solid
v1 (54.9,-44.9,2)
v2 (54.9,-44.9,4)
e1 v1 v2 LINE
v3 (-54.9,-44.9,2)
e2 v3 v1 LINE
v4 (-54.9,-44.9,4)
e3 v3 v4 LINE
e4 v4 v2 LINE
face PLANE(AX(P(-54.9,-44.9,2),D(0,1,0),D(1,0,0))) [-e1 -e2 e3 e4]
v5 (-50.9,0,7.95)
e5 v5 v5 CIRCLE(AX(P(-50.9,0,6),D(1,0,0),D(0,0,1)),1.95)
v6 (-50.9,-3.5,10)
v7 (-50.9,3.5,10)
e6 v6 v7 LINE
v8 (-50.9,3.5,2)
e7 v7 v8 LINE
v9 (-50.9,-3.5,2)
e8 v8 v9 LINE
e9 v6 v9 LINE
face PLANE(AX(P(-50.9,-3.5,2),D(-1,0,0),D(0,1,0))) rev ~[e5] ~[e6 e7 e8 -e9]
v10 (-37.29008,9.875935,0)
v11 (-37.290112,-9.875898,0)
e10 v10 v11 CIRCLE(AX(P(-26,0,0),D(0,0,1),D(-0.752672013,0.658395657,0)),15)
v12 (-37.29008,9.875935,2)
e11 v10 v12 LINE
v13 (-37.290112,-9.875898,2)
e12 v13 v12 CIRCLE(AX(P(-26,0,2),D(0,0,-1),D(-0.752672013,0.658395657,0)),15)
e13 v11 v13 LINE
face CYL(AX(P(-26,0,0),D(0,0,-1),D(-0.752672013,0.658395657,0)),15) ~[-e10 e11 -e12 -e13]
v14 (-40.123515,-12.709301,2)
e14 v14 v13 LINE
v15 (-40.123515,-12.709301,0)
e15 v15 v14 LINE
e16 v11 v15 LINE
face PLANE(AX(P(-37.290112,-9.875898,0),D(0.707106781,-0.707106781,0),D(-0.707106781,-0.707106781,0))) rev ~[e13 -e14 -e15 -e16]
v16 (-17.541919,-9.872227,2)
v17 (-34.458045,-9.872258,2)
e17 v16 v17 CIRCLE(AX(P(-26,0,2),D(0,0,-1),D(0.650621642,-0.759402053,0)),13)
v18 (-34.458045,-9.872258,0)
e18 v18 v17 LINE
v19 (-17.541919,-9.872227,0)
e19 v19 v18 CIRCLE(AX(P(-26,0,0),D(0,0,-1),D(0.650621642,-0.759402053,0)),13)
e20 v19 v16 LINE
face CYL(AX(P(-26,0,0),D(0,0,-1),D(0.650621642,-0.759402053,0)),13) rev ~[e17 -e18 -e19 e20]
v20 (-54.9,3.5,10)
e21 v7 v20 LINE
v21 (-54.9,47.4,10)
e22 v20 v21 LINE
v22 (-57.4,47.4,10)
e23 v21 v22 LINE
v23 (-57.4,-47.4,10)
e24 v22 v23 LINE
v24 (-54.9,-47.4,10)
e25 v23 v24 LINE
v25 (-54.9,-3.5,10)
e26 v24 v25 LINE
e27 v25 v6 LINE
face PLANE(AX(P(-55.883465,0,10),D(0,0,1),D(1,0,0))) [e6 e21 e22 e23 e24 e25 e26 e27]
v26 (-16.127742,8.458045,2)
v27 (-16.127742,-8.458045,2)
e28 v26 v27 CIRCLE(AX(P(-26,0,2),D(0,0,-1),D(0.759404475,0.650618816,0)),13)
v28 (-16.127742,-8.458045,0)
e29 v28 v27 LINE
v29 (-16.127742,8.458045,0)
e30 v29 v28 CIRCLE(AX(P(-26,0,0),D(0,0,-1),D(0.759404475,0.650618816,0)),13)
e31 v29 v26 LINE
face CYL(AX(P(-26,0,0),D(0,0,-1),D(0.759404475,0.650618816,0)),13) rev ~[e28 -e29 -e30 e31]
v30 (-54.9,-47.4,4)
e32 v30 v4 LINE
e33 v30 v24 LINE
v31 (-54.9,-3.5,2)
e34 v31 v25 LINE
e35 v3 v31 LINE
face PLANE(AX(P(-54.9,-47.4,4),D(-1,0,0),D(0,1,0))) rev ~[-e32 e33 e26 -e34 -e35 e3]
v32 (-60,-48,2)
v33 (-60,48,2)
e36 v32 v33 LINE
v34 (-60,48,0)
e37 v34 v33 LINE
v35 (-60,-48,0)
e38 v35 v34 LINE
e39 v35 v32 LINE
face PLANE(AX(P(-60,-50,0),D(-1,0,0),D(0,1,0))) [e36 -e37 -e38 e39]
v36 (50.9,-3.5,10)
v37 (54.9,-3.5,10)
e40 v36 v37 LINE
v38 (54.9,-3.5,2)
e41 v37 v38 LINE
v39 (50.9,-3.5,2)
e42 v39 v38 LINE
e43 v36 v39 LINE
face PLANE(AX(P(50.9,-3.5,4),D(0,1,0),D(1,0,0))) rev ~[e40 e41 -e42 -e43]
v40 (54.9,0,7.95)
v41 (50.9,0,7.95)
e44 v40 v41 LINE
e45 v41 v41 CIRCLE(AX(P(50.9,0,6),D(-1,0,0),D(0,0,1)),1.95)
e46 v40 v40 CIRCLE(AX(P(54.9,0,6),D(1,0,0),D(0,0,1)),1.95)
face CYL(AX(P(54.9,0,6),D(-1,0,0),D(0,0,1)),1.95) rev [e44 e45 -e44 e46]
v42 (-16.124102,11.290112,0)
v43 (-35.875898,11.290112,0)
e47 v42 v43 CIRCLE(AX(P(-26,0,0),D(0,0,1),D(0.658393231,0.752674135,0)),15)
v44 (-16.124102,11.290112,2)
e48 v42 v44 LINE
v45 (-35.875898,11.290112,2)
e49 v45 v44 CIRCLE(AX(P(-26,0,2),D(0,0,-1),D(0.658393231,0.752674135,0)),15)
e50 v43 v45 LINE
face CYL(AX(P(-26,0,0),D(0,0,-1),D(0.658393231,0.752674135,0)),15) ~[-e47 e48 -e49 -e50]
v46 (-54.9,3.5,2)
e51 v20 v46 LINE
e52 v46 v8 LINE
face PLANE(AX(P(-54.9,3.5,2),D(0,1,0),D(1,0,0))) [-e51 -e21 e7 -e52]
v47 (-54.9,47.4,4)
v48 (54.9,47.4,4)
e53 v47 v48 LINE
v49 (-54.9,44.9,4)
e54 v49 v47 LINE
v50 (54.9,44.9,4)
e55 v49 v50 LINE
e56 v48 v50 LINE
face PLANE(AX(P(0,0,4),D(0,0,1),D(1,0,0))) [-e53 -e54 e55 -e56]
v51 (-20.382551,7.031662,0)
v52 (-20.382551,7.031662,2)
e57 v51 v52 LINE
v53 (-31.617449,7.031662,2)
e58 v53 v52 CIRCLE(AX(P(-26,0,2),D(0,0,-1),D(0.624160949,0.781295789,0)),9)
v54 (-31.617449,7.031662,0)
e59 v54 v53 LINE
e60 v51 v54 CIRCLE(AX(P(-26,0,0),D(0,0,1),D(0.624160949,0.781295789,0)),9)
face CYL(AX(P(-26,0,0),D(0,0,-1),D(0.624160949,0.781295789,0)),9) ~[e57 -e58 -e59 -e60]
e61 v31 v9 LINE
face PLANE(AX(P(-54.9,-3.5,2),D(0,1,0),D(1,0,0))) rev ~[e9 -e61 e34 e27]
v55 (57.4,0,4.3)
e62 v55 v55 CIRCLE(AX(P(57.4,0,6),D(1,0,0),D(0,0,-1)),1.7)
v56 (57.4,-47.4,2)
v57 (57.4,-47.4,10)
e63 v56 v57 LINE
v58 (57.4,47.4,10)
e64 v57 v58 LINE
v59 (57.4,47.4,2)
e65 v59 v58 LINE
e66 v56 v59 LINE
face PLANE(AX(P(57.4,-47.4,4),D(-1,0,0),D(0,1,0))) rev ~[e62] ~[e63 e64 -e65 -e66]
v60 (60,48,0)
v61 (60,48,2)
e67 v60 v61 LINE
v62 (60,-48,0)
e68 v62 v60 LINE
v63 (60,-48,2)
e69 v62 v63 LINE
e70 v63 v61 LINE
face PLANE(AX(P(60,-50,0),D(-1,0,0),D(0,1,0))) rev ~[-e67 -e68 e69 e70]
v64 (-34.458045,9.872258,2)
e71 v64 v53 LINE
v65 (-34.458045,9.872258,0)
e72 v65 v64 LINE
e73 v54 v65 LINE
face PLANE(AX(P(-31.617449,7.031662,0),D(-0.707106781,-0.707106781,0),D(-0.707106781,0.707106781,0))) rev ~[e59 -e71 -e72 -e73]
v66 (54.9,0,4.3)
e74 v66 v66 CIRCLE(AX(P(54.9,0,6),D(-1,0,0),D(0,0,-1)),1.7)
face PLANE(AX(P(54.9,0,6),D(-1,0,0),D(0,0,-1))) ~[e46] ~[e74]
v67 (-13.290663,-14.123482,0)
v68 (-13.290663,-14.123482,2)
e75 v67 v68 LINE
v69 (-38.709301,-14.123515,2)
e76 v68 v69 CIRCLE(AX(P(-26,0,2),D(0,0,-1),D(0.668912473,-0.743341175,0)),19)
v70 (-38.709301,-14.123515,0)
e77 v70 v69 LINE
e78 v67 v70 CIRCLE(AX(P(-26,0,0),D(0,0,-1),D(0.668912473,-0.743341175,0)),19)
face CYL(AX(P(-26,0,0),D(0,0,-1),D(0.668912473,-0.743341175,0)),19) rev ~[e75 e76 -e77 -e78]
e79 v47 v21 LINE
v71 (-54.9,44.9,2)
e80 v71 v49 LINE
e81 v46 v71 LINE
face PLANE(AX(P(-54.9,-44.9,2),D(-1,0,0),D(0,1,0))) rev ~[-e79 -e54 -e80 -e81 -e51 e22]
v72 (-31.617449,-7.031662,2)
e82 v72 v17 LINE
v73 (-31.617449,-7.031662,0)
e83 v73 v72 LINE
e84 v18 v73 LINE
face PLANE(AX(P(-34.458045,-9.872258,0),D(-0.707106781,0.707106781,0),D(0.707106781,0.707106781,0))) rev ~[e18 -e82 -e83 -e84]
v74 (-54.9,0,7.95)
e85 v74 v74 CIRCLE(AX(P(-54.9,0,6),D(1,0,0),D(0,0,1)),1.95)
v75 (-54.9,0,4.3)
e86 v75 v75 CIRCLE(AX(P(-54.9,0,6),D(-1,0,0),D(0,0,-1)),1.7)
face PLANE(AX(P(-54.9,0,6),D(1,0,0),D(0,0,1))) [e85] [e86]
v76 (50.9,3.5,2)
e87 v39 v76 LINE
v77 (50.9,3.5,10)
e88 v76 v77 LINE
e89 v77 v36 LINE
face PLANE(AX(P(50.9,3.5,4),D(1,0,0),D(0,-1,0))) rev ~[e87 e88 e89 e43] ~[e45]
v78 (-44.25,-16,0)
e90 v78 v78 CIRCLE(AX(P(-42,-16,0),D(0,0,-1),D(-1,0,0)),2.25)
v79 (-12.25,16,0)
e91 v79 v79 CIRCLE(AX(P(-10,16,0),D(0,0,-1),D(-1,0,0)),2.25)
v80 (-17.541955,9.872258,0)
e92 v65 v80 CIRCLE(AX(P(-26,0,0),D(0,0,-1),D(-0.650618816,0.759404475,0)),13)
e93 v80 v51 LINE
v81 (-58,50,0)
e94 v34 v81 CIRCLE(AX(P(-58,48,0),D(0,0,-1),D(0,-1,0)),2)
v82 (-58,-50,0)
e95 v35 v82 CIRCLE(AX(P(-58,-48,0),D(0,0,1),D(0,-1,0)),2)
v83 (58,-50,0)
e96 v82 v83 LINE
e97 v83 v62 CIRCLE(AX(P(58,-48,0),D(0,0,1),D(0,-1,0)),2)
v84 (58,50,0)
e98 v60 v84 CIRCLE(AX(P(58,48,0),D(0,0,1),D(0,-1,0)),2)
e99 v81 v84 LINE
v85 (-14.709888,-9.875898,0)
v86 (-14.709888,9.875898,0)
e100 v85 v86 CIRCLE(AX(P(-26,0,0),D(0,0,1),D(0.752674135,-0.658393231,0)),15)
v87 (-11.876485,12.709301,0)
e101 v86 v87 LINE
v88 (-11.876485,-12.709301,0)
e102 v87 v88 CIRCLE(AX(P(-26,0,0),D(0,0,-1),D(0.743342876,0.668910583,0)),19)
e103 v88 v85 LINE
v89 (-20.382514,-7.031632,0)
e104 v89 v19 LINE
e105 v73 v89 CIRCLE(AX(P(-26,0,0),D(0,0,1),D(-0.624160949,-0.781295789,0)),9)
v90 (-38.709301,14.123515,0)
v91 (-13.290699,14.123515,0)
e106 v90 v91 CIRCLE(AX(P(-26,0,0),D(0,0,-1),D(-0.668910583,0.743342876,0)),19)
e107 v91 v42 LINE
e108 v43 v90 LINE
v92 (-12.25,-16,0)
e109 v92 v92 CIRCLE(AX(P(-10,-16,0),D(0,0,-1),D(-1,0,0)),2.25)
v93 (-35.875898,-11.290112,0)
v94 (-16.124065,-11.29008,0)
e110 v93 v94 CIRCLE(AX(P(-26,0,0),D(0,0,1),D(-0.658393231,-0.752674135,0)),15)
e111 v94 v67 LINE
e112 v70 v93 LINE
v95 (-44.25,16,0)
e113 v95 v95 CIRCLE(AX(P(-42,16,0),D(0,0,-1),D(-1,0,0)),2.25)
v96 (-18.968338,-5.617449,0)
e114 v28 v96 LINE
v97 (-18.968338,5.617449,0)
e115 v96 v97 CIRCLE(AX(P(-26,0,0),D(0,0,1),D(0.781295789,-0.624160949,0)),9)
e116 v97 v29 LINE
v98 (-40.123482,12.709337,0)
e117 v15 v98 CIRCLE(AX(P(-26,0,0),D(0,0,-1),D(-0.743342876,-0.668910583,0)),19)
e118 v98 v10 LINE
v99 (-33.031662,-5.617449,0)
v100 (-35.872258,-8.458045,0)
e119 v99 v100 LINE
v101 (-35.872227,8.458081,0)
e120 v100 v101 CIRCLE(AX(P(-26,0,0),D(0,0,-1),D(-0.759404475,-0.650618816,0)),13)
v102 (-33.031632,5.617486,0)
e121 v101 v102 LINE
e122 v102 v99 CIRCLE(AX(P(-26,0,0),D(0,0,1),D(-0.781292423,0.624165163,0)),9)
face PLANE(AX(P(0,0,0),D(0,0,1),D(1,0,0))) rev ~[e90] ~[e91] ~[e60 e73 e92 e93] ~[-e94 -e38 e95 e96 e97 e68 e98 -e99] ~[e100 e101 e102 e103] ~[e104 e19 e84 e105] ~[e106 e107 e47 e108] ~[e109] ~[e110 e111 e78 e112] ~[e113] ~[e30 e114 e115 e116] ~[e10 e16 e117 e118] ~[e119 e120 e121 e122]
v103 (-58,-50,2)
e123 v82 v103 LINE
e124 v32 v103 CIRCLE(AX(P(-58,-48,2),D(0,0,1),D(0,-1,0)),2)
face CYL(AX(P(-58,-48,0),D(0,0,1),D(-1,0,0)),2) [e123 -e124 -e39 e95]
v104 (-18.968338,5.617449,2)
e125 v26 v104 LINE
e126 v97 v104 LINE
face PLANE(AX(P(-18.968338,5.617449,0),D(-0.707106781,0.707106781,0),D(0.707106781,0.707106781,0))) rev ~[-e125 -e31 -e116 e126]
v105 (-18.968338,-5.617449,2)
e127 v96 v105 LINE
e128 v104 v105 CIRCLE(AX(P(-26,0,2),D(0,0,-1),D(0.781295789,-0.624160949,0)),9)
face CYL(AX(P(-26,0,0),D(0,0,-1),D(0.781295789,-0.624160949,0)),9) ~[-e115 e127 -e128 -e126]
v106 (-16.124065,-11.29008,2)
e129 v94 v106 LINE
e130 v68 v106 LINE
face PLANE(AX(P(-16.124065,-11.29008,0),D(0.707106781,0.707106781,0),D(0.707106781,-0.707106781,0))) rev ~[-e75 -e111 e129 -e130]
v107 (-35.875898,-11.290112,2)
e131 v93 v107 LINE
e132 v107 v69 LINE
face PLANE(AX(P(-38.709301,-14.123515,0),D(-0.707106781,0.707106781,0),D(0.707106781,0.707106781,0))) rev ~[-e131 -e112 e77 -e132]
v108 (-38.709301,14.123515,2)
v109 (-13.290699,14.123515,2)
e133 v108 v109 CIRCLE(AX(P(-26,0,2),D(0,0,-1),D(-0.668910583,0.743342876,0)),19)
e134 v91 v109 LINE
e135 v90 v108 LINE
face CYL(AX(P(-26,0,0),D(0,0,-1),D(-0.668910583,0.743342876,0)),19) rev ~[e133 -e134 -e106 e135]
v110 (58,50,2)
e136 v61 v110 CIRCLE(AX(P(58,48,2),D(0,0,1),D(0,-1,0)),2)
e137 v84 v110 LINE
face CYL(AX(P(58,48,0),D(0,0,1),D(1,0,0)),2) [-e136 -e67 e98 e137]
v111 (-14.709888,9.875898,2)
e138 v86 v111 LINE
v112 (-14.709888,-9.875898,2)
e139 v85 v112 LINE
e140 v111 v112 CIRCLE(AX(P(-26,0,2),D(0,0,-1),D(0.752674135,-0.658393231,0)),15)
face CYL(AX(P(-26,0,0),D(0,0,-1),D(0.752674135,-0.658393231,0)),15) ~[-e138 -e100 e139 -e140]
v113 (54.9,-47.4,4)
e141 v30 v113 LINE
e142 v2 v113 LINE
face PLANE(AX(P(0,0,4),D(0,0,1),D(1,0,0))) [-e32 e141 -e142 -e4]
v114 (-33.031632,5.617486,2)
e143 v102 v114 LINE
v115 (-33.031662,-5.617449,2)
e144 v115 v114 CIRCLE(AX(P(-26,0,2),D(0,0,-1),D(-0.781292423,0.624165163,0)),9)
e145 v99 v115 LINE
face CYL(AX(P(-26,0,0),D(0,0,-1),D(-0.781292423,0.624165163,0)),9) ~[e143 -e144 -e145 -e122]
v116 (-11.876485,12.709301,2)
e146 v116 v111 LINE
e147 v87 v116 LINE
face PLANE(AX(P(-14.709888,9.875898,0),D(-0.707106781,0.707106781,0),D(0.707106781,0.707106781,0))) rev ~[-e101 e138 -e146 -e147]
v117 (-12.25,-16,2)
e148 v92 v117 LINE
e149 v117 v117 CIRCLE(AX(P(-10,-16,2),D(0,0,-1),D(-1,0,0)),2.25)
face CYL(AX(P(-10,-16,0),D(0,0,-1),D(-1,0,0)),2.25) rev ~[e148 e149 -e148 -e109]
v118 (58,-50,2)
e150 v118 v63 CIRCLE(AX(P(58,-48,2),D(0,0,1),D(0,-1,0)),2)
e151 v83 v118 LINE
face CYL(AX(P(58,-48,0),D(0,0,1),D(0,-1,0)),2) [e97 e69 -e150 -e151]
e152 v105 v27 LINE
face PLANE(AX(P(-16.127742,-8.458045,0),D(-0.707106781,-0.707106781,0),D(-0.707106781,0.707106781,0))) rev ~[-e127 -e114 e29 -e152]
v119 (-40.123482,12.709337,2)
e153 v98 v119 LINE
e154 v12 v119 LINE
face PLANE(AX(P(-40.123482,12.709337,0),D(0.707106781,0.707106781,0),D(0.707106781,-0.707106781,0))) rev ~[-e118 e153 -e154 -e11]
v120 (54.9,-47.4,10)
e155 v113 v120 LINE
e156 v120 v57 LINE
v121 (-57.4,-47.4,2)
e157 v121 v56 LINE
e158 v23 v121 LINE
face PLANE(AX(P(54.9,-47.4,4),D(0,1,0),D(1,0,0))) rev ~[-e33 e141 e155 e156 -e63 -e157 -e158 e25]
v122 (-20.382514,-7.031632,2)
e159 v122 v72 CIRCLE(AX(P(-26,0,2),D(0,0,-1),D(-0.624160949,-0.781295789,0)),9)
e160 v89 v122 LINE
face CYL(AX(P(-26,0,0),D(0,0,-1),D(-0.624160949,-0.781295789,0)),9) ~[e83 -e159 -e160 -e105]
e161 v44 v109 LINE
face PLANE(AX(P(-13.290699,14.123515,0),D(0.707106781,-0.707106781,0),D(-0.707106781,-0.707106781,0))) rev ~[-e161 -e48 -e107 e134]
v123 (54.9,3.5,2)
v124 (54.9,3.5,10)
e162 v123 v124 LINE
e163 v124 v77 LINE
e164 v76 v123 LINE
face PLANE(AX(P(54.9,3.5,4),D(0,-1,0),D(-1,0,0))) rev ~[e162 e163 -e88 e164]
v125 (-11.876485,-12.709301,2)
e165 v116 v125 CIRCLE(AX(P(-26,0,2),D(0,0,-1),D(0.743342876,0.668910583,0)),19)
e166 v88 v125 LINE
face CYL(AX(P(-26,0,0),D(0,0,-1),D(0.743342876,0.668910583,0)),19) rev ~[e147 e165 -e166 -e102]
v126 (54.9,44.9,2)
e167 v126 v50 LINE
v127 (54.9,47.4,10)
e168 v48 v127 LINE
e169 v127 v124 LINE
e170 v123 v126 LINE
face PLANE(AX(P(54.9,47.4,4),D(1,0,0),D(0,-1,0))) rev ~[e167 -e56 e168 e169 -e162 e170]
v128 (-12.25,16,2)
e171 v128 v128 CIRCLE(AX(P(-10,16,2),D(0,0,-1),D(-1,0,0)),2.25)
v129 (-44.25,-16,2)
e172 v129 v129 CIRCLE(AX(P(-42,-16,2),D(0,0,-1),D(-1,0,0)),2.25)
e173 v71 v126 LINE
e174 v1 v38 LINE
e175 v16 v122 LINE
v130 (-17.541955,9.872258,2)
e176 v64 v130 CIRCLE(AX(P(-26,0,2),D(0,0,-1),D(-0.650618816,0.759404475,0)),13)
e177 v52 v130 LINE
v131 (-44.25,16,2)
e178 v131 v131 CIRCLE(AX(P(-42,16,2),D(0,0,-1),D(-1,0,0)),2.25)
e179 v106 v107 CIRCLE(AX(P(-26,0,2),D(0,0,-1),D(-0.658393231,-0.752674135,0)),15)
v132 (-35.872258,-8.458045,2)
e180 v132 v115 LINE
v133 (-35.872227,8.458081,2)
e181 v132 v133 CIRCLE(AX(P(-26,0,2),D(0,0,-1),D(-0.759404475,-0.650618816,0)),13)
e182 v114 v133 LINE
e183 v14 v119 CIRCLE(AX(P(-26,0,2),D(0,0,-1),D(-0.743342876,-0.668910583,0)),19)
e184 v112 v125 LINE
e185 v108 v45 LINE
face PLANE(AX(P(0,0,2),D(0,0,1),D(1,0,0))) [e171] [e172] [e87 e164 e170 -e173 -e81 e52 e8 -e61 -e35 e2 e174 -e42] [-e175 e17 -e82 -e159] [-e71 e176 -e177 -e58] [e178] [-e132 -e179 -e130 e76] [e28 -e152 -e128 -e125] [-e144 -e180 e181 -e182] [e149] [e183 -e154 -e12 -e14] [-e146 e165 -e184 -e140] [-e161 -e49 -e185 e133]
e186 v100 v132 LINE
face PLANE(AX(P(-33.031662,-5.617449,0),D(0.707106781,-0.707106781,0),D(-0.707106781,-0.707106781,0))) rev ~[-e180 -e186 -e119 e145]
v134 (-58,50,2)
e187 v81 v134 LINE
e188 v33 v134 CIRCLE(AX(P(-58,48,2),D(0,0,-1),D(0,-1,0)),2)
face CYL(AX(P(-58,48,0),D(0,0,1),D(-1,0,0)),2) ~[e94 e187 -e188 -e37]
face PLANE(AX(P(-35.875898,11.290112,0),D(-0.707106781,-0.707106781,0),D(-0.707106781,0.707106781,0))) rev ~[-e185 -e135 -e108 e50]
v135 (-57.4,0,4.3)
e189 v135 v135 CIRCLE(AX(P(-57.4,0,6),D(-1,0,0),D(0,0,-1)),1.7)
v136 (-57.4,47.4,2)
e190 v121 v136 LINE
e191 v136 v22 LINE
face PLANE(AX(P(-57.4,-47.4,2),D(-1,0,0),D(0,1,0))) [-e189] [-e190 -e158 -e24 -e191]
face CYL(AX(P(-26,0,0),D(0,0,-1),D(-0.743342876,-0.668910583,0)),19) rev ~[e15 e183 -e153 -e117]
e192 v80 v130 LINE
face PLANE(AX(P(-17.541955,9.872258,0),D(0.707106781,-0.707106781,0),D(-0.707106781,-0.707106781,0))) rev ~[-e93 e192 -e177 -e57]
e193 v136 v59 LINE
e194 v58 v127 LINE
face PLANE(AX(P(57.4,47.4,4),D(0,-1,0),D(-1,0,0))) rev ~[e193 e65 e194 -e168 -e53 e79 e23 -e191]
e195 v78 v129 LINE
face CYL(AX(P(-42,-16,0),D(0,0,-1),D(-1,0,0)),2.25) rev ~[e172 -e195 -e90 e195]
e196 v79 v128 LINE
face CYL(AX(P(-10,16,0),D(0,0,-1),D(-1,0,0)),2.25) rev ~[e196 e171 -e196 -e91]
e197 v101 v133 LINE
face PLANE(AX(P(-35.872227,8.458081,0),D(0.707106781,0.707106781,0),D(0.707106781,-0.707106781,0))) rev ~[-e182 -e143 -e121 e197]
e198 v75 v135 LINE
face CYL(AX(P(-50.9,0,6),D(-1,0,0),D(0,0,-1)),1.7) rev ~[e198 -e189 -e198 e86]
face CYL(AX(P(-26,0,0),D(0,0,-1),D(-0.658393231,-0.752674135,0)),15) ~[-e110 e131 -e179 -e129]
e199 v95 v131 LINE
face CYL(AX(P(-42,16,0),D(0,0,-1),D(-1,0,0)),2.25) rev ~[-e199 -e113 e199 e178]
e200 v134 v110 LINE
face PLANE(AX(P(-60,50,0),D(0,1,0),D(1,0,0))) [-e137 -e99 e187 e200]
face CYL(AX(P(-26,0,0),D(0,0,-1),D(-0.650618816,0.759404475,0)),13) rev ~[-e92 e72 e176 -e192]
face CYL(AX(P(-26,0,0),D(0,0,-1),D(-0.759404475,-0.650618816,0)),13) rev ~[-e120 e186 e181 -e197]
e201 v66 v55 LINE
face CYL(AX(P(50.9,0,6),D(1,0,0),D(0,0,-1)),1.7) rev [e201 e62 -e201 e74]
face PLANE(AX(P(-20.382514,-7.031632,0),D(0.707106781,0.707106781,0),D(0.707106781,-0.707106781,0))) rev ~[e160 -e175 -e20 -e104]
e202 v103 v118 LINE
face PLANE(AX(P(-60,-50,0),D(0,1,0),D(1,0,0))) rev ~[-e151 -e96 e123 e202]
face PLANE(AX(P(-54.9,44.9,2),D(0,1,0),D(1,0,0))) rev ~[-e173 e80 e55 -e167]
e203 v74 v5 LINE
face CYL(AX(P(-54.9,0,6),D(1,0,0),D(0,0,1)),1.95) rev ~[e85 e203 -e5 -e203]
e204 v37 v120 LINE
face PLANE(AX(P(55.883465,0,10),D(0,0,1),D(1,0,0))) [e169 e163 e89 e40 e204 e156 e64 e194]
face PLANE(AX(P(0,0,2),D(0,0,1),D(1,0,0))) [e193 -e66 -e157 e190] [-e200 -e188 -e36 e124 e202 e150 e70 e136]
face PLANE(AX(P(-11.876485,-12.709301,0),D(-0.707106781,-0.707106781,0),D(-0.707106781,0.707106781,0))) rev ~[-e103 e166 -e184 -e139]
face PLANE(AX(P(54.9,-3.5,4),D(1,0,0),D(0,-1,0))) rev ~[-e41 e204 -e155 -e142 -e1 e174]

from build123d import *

# Parameters (mm, degrees)
P_DORYS_W                                         = 120
P_DORYS_H                                         = 100
P_IDAT_VYSUNUT_M1_DEPTH                           = 2
ZAOBLIT1_R                                        = 2
SKICA2_W                                          = 114.8
SKICA2_H                                          = 94.8
SKICA2_W_2                                        = 109.8
SKICA2_H_2                                        = 89.8
SKICA2_W_3                                        = 4
SKICA2_H_3                                        = 7
SKICA2_H_4                                        = 3.5
P_IDAT_VYSUNUT_M2_DEPTH                           = 2
P_IDAT_VYSUNUT_M3_DEPTH                           = 6
V_LCOV_ZAHLOUBEN_PRO_M6_ROUBY_S_V_LCO_D           = 3.4
V_LCOV_ZAHLOUBEN_PRO_M6_ROUBY_S_V_LCO_DEPTH       = 9.1
V_LCOV_ZAHLOUBEN_PRO_M6_ROUBY_S_V_LCO_CBORE_D     = 3.9
V_LCOV_ZAHLOUBEN_PRO_M6_ROUBY_S_V_LCO_CBORE_DEPTH = 4
SKICA7_R                                          = 2.25
ODEBRAT_VYSUNUT_M1_DEPTH                          = 6


with BuildPart() as part:
    # půdorys → Přidat vysunutím1 (new body)
    with BuildSketch(Plane.XY):
        Rectangle(P_DORYS_W, P_DORYS_H)
    extrude(amount=P_IDAT_VYSUNUT_M1_DEPTH)

    # Zaoblit1
    zaoblit1_edges = [part.edges().sort_by_distance(p)[0] for p in [
        (60, -50, 1),
        (-60, -50, 1),
        (-60, 50, 1),
        (60, 50, 1),
    ]]
    fillet(zaoblit1_edges, radius=ZAOBLIT1_R)

    # Skica2 → Přidat vysunutím2 (add)
    # profile 1 of 4: a face of its own
    with BuildSketch(Plane.XY.offset(2)):
        Rectangle(SKICA2_W, SKICA2_H)
        Rectangle(SKICA2_W_2, SKICA2_H_2, mode=Mode.SUBTRACT)
    # profile 2 of 4: a face of its own
    with BuildSketch(Plane.XY.offset(2)):
        with Locations((52.9, 0)):
            Rectangle(SKICA2_W_3, SKICA2_H_3)
    # profile 3 of 4: a face of its own
    with BuildSketch(Plane.XY.offset(2)):
        with Locations((-52.9, -1.75)):
            Rectangle(SKICA2_W_3, SKICA2_H_4)
    # profile 4 of 4: a face of its own
    with BuildSketch(Plane.XY.offset(2)):
        with Locations((-52.9, 1.75)):
            Rectangle(SKICA2_W_3, SKICA2_H_4)
    extrude(amount=P_IDAT_VYSUNUT_M2_DEPTH)

    # Skica3 → Přidat vysunutím3 (add)
    with BuildSketch(Plane.XY.offset(4)):
        Polygon((54.9, -47.4), (57.4, -47.4), (57.4, 47.4), (54.9, 47.4), (54.9, 44.9), (54.9, 3.5), (50.9, 3.5), (50.9, -3.5), (54.9, -3.5), (54.9, -44.9), align=None)
        Polygon((-57.4, -47.4), (-54.9, -47.4), (-54.9, -44.9), (-54.9, -3.5), (-50.9, -3.5), (-50.9, 3.5), (-54.9, 3.5), (-54.9, 44.9), (-54.9, 47.4), (-57.4, 47.4), align=None)
    extrude(amount=P_IDAT_VYSUNUT_M3_DEPTH)

    # Válcové zahloubení pro M6 šrouby s válcovou hlavou zaoblenou1
    with Locations(Plane(origin=(-50.9, 0, 6), x_dir=(0, 0, 1), z_dir=(1, 0, 0))):
        with Locations((0, 0)):
            v_lcov_zahlouben_pro_m6_rouby_s_v_lco = CounterBoreHole(V_LCOV_ZAHLOUBEN_PRO_M6_ROUBY_S_V_LCO_D / 2, V_LCOV_ZAHLOUBEN_PRO_M6_ROUBY_S_V_LCO_CBORE_D / 2, V_LCOV_ZAHLOUBEN_PRO_M6_ROUBY_S_V_LCO_CBORE_DEPTH, depth=V_LCOV_ZAHLOUBEN_PRO_M6_ROUBY_S_V_LCO_DEPTH)

    # Zrcadlit1: Válcové zahloubení pro M6 šrouby s válcovou hlavou zaoblenou1 across plane
    add(v_lcov_zahlouben_pro_m6_rouby_s_v_lco.mirror(Plane(origin=(0, 0, 0), x_dir=(0, 0, 1), z_dir=(1, 0, 0))), mode=Mode.SUBTRACT)

    # Skica7 → Odebrat vysunutím1 (cut)
    with BuildSketch(Plane(origin=(0, 0, 0), x_dir=(-1, 0, 0), z_dir=(0, 0, -1))):
        with BuildLine():
            ThreePointArc((37.290080195, 9.875934852), (41, 2.4173e-05), (37.290112025, -9.875898463))
            Line((37.290112025, -9.875898463), (40.123514646, -12.709301084))
            ThreePointArc((40.123514646, -12.709301084), (45, 2.4153e-05), (40.123482334, 12.709336991))
            Line((40.123482334, 12.709336991), (37.290080195, 9.875934852))
        make_face()
        with BuildLine():
            ThreePointArc((35.872258171, -8.458044609), (39, 2.4191e-05), (35.872226693, 8.45808135))
            Line((35.872226693, 8.45808135), (33.031631805, 5.617486462))
            ThreePointArc((33.031631805, 5.617486462), (35, 2.427e-05), (33.031662102, -5.617448539))
            Line((33.031662102, -5.617448539), (35.872258171, -8.458044609))
        make_face()
        with Locations((42, -16)):
            Circle(SKICA7_R)
        with Locations((42, 16)):
            Circle(SKICA7_R)
        with BuildLine():
            ThreePointArc((16.124101537, 11.290112025), (26, 15), (35.875898463, 11.290112025))
            Line((35.875898463, 11.290112025), (38.709301084, 14.123514646))
            ThreePointArc((38.709301084, 14.123514646), (26, 19), (13.290698916, 14.123514646))
            Line((13.290698916, 14.123514646), (16.124101537, 11.290112025))
        make_face()
        with BuildLine():
            Line((38.709301084, -14.123514646), (35.875898463, -11.290112025))
            ThreePointArc((35.875898463, -11.290112025), (25.999975827, -15), (16.124065148, -11.290080195))
            Line((16.124065148, -11.290080195), (13.290663009, -14.123482334))
            ThreePointArc((13.290663009, -14.123482334), (25.999975847, -19), (38.709301084, -14.123514646))
        make_face()
        with BuildLine():
            Line((31.617448539, 7.031662102), (34.458044609, 9.872258171))
            ThreePointArc((34.458044609, 9.872258171), (26, 13), (17.541955391, 9.872258171))
            Line((17.541955391, 9.872258171), (20.382551461, 7.031662102))
            ThreePointArc((20.382551461, 7.031662102), (26, 9), (31.617448539, 7.031662102))
        make_face()
        with BuildLine():
            ThreePointArc((17.54191865, -9.872226693), (25.999975809, -13), (34.458044609, -9.872258171))
            Line((34.458044609, -9.872258171), (31.617448539, -7.031662102))
            ThreePointArc((31.617448539, -7.031662102), (25.99997573, -9), (20.382513538, -7.031631805))
            Line((20.382513538, -7.031631805), (17.54191865, -9.872226693))
        make_face()
        with BuildLine():
            ThreePointArc((18.968337898, -5.617448539), (17, 0), (18.968337898, 5.617448539))
            Line((18.968337898, 5.617448539), (16.127741829, 8.458044609))
            ThreePointArc((16.127741829, 8.458044609), (13, 0), (16.127741829, -8.458044609))
            Line((16.127741829, -8.458044609), (18.968337898, -5.617448539))
        make_face()
        with Locations((10, 16)):
            Circle(SKICA7_R)
        with BuildLine():
            Line((14.709887975, 9.875898463), (11.876485354, 12.709301084))
            ThreePointArc((11.876485354, 12.709301084), (7, 0), (11.876485354, -12.709301084))
            Line((11.876485354, -12.709301084), (14.709887975, -9.875898463))
            ThreePointArc((14.709887975, -9.875898463), (11, 0), (14.709887975, 9.875898463))
        make_face()
        with Locations((10, -16)):
            Circle(SKICA7_R)
    extrude(amount=-ODEBRAT_VYSUNUT_M1_DEPTH, mode=Mode.SUBTRACT)


solid = part.part
